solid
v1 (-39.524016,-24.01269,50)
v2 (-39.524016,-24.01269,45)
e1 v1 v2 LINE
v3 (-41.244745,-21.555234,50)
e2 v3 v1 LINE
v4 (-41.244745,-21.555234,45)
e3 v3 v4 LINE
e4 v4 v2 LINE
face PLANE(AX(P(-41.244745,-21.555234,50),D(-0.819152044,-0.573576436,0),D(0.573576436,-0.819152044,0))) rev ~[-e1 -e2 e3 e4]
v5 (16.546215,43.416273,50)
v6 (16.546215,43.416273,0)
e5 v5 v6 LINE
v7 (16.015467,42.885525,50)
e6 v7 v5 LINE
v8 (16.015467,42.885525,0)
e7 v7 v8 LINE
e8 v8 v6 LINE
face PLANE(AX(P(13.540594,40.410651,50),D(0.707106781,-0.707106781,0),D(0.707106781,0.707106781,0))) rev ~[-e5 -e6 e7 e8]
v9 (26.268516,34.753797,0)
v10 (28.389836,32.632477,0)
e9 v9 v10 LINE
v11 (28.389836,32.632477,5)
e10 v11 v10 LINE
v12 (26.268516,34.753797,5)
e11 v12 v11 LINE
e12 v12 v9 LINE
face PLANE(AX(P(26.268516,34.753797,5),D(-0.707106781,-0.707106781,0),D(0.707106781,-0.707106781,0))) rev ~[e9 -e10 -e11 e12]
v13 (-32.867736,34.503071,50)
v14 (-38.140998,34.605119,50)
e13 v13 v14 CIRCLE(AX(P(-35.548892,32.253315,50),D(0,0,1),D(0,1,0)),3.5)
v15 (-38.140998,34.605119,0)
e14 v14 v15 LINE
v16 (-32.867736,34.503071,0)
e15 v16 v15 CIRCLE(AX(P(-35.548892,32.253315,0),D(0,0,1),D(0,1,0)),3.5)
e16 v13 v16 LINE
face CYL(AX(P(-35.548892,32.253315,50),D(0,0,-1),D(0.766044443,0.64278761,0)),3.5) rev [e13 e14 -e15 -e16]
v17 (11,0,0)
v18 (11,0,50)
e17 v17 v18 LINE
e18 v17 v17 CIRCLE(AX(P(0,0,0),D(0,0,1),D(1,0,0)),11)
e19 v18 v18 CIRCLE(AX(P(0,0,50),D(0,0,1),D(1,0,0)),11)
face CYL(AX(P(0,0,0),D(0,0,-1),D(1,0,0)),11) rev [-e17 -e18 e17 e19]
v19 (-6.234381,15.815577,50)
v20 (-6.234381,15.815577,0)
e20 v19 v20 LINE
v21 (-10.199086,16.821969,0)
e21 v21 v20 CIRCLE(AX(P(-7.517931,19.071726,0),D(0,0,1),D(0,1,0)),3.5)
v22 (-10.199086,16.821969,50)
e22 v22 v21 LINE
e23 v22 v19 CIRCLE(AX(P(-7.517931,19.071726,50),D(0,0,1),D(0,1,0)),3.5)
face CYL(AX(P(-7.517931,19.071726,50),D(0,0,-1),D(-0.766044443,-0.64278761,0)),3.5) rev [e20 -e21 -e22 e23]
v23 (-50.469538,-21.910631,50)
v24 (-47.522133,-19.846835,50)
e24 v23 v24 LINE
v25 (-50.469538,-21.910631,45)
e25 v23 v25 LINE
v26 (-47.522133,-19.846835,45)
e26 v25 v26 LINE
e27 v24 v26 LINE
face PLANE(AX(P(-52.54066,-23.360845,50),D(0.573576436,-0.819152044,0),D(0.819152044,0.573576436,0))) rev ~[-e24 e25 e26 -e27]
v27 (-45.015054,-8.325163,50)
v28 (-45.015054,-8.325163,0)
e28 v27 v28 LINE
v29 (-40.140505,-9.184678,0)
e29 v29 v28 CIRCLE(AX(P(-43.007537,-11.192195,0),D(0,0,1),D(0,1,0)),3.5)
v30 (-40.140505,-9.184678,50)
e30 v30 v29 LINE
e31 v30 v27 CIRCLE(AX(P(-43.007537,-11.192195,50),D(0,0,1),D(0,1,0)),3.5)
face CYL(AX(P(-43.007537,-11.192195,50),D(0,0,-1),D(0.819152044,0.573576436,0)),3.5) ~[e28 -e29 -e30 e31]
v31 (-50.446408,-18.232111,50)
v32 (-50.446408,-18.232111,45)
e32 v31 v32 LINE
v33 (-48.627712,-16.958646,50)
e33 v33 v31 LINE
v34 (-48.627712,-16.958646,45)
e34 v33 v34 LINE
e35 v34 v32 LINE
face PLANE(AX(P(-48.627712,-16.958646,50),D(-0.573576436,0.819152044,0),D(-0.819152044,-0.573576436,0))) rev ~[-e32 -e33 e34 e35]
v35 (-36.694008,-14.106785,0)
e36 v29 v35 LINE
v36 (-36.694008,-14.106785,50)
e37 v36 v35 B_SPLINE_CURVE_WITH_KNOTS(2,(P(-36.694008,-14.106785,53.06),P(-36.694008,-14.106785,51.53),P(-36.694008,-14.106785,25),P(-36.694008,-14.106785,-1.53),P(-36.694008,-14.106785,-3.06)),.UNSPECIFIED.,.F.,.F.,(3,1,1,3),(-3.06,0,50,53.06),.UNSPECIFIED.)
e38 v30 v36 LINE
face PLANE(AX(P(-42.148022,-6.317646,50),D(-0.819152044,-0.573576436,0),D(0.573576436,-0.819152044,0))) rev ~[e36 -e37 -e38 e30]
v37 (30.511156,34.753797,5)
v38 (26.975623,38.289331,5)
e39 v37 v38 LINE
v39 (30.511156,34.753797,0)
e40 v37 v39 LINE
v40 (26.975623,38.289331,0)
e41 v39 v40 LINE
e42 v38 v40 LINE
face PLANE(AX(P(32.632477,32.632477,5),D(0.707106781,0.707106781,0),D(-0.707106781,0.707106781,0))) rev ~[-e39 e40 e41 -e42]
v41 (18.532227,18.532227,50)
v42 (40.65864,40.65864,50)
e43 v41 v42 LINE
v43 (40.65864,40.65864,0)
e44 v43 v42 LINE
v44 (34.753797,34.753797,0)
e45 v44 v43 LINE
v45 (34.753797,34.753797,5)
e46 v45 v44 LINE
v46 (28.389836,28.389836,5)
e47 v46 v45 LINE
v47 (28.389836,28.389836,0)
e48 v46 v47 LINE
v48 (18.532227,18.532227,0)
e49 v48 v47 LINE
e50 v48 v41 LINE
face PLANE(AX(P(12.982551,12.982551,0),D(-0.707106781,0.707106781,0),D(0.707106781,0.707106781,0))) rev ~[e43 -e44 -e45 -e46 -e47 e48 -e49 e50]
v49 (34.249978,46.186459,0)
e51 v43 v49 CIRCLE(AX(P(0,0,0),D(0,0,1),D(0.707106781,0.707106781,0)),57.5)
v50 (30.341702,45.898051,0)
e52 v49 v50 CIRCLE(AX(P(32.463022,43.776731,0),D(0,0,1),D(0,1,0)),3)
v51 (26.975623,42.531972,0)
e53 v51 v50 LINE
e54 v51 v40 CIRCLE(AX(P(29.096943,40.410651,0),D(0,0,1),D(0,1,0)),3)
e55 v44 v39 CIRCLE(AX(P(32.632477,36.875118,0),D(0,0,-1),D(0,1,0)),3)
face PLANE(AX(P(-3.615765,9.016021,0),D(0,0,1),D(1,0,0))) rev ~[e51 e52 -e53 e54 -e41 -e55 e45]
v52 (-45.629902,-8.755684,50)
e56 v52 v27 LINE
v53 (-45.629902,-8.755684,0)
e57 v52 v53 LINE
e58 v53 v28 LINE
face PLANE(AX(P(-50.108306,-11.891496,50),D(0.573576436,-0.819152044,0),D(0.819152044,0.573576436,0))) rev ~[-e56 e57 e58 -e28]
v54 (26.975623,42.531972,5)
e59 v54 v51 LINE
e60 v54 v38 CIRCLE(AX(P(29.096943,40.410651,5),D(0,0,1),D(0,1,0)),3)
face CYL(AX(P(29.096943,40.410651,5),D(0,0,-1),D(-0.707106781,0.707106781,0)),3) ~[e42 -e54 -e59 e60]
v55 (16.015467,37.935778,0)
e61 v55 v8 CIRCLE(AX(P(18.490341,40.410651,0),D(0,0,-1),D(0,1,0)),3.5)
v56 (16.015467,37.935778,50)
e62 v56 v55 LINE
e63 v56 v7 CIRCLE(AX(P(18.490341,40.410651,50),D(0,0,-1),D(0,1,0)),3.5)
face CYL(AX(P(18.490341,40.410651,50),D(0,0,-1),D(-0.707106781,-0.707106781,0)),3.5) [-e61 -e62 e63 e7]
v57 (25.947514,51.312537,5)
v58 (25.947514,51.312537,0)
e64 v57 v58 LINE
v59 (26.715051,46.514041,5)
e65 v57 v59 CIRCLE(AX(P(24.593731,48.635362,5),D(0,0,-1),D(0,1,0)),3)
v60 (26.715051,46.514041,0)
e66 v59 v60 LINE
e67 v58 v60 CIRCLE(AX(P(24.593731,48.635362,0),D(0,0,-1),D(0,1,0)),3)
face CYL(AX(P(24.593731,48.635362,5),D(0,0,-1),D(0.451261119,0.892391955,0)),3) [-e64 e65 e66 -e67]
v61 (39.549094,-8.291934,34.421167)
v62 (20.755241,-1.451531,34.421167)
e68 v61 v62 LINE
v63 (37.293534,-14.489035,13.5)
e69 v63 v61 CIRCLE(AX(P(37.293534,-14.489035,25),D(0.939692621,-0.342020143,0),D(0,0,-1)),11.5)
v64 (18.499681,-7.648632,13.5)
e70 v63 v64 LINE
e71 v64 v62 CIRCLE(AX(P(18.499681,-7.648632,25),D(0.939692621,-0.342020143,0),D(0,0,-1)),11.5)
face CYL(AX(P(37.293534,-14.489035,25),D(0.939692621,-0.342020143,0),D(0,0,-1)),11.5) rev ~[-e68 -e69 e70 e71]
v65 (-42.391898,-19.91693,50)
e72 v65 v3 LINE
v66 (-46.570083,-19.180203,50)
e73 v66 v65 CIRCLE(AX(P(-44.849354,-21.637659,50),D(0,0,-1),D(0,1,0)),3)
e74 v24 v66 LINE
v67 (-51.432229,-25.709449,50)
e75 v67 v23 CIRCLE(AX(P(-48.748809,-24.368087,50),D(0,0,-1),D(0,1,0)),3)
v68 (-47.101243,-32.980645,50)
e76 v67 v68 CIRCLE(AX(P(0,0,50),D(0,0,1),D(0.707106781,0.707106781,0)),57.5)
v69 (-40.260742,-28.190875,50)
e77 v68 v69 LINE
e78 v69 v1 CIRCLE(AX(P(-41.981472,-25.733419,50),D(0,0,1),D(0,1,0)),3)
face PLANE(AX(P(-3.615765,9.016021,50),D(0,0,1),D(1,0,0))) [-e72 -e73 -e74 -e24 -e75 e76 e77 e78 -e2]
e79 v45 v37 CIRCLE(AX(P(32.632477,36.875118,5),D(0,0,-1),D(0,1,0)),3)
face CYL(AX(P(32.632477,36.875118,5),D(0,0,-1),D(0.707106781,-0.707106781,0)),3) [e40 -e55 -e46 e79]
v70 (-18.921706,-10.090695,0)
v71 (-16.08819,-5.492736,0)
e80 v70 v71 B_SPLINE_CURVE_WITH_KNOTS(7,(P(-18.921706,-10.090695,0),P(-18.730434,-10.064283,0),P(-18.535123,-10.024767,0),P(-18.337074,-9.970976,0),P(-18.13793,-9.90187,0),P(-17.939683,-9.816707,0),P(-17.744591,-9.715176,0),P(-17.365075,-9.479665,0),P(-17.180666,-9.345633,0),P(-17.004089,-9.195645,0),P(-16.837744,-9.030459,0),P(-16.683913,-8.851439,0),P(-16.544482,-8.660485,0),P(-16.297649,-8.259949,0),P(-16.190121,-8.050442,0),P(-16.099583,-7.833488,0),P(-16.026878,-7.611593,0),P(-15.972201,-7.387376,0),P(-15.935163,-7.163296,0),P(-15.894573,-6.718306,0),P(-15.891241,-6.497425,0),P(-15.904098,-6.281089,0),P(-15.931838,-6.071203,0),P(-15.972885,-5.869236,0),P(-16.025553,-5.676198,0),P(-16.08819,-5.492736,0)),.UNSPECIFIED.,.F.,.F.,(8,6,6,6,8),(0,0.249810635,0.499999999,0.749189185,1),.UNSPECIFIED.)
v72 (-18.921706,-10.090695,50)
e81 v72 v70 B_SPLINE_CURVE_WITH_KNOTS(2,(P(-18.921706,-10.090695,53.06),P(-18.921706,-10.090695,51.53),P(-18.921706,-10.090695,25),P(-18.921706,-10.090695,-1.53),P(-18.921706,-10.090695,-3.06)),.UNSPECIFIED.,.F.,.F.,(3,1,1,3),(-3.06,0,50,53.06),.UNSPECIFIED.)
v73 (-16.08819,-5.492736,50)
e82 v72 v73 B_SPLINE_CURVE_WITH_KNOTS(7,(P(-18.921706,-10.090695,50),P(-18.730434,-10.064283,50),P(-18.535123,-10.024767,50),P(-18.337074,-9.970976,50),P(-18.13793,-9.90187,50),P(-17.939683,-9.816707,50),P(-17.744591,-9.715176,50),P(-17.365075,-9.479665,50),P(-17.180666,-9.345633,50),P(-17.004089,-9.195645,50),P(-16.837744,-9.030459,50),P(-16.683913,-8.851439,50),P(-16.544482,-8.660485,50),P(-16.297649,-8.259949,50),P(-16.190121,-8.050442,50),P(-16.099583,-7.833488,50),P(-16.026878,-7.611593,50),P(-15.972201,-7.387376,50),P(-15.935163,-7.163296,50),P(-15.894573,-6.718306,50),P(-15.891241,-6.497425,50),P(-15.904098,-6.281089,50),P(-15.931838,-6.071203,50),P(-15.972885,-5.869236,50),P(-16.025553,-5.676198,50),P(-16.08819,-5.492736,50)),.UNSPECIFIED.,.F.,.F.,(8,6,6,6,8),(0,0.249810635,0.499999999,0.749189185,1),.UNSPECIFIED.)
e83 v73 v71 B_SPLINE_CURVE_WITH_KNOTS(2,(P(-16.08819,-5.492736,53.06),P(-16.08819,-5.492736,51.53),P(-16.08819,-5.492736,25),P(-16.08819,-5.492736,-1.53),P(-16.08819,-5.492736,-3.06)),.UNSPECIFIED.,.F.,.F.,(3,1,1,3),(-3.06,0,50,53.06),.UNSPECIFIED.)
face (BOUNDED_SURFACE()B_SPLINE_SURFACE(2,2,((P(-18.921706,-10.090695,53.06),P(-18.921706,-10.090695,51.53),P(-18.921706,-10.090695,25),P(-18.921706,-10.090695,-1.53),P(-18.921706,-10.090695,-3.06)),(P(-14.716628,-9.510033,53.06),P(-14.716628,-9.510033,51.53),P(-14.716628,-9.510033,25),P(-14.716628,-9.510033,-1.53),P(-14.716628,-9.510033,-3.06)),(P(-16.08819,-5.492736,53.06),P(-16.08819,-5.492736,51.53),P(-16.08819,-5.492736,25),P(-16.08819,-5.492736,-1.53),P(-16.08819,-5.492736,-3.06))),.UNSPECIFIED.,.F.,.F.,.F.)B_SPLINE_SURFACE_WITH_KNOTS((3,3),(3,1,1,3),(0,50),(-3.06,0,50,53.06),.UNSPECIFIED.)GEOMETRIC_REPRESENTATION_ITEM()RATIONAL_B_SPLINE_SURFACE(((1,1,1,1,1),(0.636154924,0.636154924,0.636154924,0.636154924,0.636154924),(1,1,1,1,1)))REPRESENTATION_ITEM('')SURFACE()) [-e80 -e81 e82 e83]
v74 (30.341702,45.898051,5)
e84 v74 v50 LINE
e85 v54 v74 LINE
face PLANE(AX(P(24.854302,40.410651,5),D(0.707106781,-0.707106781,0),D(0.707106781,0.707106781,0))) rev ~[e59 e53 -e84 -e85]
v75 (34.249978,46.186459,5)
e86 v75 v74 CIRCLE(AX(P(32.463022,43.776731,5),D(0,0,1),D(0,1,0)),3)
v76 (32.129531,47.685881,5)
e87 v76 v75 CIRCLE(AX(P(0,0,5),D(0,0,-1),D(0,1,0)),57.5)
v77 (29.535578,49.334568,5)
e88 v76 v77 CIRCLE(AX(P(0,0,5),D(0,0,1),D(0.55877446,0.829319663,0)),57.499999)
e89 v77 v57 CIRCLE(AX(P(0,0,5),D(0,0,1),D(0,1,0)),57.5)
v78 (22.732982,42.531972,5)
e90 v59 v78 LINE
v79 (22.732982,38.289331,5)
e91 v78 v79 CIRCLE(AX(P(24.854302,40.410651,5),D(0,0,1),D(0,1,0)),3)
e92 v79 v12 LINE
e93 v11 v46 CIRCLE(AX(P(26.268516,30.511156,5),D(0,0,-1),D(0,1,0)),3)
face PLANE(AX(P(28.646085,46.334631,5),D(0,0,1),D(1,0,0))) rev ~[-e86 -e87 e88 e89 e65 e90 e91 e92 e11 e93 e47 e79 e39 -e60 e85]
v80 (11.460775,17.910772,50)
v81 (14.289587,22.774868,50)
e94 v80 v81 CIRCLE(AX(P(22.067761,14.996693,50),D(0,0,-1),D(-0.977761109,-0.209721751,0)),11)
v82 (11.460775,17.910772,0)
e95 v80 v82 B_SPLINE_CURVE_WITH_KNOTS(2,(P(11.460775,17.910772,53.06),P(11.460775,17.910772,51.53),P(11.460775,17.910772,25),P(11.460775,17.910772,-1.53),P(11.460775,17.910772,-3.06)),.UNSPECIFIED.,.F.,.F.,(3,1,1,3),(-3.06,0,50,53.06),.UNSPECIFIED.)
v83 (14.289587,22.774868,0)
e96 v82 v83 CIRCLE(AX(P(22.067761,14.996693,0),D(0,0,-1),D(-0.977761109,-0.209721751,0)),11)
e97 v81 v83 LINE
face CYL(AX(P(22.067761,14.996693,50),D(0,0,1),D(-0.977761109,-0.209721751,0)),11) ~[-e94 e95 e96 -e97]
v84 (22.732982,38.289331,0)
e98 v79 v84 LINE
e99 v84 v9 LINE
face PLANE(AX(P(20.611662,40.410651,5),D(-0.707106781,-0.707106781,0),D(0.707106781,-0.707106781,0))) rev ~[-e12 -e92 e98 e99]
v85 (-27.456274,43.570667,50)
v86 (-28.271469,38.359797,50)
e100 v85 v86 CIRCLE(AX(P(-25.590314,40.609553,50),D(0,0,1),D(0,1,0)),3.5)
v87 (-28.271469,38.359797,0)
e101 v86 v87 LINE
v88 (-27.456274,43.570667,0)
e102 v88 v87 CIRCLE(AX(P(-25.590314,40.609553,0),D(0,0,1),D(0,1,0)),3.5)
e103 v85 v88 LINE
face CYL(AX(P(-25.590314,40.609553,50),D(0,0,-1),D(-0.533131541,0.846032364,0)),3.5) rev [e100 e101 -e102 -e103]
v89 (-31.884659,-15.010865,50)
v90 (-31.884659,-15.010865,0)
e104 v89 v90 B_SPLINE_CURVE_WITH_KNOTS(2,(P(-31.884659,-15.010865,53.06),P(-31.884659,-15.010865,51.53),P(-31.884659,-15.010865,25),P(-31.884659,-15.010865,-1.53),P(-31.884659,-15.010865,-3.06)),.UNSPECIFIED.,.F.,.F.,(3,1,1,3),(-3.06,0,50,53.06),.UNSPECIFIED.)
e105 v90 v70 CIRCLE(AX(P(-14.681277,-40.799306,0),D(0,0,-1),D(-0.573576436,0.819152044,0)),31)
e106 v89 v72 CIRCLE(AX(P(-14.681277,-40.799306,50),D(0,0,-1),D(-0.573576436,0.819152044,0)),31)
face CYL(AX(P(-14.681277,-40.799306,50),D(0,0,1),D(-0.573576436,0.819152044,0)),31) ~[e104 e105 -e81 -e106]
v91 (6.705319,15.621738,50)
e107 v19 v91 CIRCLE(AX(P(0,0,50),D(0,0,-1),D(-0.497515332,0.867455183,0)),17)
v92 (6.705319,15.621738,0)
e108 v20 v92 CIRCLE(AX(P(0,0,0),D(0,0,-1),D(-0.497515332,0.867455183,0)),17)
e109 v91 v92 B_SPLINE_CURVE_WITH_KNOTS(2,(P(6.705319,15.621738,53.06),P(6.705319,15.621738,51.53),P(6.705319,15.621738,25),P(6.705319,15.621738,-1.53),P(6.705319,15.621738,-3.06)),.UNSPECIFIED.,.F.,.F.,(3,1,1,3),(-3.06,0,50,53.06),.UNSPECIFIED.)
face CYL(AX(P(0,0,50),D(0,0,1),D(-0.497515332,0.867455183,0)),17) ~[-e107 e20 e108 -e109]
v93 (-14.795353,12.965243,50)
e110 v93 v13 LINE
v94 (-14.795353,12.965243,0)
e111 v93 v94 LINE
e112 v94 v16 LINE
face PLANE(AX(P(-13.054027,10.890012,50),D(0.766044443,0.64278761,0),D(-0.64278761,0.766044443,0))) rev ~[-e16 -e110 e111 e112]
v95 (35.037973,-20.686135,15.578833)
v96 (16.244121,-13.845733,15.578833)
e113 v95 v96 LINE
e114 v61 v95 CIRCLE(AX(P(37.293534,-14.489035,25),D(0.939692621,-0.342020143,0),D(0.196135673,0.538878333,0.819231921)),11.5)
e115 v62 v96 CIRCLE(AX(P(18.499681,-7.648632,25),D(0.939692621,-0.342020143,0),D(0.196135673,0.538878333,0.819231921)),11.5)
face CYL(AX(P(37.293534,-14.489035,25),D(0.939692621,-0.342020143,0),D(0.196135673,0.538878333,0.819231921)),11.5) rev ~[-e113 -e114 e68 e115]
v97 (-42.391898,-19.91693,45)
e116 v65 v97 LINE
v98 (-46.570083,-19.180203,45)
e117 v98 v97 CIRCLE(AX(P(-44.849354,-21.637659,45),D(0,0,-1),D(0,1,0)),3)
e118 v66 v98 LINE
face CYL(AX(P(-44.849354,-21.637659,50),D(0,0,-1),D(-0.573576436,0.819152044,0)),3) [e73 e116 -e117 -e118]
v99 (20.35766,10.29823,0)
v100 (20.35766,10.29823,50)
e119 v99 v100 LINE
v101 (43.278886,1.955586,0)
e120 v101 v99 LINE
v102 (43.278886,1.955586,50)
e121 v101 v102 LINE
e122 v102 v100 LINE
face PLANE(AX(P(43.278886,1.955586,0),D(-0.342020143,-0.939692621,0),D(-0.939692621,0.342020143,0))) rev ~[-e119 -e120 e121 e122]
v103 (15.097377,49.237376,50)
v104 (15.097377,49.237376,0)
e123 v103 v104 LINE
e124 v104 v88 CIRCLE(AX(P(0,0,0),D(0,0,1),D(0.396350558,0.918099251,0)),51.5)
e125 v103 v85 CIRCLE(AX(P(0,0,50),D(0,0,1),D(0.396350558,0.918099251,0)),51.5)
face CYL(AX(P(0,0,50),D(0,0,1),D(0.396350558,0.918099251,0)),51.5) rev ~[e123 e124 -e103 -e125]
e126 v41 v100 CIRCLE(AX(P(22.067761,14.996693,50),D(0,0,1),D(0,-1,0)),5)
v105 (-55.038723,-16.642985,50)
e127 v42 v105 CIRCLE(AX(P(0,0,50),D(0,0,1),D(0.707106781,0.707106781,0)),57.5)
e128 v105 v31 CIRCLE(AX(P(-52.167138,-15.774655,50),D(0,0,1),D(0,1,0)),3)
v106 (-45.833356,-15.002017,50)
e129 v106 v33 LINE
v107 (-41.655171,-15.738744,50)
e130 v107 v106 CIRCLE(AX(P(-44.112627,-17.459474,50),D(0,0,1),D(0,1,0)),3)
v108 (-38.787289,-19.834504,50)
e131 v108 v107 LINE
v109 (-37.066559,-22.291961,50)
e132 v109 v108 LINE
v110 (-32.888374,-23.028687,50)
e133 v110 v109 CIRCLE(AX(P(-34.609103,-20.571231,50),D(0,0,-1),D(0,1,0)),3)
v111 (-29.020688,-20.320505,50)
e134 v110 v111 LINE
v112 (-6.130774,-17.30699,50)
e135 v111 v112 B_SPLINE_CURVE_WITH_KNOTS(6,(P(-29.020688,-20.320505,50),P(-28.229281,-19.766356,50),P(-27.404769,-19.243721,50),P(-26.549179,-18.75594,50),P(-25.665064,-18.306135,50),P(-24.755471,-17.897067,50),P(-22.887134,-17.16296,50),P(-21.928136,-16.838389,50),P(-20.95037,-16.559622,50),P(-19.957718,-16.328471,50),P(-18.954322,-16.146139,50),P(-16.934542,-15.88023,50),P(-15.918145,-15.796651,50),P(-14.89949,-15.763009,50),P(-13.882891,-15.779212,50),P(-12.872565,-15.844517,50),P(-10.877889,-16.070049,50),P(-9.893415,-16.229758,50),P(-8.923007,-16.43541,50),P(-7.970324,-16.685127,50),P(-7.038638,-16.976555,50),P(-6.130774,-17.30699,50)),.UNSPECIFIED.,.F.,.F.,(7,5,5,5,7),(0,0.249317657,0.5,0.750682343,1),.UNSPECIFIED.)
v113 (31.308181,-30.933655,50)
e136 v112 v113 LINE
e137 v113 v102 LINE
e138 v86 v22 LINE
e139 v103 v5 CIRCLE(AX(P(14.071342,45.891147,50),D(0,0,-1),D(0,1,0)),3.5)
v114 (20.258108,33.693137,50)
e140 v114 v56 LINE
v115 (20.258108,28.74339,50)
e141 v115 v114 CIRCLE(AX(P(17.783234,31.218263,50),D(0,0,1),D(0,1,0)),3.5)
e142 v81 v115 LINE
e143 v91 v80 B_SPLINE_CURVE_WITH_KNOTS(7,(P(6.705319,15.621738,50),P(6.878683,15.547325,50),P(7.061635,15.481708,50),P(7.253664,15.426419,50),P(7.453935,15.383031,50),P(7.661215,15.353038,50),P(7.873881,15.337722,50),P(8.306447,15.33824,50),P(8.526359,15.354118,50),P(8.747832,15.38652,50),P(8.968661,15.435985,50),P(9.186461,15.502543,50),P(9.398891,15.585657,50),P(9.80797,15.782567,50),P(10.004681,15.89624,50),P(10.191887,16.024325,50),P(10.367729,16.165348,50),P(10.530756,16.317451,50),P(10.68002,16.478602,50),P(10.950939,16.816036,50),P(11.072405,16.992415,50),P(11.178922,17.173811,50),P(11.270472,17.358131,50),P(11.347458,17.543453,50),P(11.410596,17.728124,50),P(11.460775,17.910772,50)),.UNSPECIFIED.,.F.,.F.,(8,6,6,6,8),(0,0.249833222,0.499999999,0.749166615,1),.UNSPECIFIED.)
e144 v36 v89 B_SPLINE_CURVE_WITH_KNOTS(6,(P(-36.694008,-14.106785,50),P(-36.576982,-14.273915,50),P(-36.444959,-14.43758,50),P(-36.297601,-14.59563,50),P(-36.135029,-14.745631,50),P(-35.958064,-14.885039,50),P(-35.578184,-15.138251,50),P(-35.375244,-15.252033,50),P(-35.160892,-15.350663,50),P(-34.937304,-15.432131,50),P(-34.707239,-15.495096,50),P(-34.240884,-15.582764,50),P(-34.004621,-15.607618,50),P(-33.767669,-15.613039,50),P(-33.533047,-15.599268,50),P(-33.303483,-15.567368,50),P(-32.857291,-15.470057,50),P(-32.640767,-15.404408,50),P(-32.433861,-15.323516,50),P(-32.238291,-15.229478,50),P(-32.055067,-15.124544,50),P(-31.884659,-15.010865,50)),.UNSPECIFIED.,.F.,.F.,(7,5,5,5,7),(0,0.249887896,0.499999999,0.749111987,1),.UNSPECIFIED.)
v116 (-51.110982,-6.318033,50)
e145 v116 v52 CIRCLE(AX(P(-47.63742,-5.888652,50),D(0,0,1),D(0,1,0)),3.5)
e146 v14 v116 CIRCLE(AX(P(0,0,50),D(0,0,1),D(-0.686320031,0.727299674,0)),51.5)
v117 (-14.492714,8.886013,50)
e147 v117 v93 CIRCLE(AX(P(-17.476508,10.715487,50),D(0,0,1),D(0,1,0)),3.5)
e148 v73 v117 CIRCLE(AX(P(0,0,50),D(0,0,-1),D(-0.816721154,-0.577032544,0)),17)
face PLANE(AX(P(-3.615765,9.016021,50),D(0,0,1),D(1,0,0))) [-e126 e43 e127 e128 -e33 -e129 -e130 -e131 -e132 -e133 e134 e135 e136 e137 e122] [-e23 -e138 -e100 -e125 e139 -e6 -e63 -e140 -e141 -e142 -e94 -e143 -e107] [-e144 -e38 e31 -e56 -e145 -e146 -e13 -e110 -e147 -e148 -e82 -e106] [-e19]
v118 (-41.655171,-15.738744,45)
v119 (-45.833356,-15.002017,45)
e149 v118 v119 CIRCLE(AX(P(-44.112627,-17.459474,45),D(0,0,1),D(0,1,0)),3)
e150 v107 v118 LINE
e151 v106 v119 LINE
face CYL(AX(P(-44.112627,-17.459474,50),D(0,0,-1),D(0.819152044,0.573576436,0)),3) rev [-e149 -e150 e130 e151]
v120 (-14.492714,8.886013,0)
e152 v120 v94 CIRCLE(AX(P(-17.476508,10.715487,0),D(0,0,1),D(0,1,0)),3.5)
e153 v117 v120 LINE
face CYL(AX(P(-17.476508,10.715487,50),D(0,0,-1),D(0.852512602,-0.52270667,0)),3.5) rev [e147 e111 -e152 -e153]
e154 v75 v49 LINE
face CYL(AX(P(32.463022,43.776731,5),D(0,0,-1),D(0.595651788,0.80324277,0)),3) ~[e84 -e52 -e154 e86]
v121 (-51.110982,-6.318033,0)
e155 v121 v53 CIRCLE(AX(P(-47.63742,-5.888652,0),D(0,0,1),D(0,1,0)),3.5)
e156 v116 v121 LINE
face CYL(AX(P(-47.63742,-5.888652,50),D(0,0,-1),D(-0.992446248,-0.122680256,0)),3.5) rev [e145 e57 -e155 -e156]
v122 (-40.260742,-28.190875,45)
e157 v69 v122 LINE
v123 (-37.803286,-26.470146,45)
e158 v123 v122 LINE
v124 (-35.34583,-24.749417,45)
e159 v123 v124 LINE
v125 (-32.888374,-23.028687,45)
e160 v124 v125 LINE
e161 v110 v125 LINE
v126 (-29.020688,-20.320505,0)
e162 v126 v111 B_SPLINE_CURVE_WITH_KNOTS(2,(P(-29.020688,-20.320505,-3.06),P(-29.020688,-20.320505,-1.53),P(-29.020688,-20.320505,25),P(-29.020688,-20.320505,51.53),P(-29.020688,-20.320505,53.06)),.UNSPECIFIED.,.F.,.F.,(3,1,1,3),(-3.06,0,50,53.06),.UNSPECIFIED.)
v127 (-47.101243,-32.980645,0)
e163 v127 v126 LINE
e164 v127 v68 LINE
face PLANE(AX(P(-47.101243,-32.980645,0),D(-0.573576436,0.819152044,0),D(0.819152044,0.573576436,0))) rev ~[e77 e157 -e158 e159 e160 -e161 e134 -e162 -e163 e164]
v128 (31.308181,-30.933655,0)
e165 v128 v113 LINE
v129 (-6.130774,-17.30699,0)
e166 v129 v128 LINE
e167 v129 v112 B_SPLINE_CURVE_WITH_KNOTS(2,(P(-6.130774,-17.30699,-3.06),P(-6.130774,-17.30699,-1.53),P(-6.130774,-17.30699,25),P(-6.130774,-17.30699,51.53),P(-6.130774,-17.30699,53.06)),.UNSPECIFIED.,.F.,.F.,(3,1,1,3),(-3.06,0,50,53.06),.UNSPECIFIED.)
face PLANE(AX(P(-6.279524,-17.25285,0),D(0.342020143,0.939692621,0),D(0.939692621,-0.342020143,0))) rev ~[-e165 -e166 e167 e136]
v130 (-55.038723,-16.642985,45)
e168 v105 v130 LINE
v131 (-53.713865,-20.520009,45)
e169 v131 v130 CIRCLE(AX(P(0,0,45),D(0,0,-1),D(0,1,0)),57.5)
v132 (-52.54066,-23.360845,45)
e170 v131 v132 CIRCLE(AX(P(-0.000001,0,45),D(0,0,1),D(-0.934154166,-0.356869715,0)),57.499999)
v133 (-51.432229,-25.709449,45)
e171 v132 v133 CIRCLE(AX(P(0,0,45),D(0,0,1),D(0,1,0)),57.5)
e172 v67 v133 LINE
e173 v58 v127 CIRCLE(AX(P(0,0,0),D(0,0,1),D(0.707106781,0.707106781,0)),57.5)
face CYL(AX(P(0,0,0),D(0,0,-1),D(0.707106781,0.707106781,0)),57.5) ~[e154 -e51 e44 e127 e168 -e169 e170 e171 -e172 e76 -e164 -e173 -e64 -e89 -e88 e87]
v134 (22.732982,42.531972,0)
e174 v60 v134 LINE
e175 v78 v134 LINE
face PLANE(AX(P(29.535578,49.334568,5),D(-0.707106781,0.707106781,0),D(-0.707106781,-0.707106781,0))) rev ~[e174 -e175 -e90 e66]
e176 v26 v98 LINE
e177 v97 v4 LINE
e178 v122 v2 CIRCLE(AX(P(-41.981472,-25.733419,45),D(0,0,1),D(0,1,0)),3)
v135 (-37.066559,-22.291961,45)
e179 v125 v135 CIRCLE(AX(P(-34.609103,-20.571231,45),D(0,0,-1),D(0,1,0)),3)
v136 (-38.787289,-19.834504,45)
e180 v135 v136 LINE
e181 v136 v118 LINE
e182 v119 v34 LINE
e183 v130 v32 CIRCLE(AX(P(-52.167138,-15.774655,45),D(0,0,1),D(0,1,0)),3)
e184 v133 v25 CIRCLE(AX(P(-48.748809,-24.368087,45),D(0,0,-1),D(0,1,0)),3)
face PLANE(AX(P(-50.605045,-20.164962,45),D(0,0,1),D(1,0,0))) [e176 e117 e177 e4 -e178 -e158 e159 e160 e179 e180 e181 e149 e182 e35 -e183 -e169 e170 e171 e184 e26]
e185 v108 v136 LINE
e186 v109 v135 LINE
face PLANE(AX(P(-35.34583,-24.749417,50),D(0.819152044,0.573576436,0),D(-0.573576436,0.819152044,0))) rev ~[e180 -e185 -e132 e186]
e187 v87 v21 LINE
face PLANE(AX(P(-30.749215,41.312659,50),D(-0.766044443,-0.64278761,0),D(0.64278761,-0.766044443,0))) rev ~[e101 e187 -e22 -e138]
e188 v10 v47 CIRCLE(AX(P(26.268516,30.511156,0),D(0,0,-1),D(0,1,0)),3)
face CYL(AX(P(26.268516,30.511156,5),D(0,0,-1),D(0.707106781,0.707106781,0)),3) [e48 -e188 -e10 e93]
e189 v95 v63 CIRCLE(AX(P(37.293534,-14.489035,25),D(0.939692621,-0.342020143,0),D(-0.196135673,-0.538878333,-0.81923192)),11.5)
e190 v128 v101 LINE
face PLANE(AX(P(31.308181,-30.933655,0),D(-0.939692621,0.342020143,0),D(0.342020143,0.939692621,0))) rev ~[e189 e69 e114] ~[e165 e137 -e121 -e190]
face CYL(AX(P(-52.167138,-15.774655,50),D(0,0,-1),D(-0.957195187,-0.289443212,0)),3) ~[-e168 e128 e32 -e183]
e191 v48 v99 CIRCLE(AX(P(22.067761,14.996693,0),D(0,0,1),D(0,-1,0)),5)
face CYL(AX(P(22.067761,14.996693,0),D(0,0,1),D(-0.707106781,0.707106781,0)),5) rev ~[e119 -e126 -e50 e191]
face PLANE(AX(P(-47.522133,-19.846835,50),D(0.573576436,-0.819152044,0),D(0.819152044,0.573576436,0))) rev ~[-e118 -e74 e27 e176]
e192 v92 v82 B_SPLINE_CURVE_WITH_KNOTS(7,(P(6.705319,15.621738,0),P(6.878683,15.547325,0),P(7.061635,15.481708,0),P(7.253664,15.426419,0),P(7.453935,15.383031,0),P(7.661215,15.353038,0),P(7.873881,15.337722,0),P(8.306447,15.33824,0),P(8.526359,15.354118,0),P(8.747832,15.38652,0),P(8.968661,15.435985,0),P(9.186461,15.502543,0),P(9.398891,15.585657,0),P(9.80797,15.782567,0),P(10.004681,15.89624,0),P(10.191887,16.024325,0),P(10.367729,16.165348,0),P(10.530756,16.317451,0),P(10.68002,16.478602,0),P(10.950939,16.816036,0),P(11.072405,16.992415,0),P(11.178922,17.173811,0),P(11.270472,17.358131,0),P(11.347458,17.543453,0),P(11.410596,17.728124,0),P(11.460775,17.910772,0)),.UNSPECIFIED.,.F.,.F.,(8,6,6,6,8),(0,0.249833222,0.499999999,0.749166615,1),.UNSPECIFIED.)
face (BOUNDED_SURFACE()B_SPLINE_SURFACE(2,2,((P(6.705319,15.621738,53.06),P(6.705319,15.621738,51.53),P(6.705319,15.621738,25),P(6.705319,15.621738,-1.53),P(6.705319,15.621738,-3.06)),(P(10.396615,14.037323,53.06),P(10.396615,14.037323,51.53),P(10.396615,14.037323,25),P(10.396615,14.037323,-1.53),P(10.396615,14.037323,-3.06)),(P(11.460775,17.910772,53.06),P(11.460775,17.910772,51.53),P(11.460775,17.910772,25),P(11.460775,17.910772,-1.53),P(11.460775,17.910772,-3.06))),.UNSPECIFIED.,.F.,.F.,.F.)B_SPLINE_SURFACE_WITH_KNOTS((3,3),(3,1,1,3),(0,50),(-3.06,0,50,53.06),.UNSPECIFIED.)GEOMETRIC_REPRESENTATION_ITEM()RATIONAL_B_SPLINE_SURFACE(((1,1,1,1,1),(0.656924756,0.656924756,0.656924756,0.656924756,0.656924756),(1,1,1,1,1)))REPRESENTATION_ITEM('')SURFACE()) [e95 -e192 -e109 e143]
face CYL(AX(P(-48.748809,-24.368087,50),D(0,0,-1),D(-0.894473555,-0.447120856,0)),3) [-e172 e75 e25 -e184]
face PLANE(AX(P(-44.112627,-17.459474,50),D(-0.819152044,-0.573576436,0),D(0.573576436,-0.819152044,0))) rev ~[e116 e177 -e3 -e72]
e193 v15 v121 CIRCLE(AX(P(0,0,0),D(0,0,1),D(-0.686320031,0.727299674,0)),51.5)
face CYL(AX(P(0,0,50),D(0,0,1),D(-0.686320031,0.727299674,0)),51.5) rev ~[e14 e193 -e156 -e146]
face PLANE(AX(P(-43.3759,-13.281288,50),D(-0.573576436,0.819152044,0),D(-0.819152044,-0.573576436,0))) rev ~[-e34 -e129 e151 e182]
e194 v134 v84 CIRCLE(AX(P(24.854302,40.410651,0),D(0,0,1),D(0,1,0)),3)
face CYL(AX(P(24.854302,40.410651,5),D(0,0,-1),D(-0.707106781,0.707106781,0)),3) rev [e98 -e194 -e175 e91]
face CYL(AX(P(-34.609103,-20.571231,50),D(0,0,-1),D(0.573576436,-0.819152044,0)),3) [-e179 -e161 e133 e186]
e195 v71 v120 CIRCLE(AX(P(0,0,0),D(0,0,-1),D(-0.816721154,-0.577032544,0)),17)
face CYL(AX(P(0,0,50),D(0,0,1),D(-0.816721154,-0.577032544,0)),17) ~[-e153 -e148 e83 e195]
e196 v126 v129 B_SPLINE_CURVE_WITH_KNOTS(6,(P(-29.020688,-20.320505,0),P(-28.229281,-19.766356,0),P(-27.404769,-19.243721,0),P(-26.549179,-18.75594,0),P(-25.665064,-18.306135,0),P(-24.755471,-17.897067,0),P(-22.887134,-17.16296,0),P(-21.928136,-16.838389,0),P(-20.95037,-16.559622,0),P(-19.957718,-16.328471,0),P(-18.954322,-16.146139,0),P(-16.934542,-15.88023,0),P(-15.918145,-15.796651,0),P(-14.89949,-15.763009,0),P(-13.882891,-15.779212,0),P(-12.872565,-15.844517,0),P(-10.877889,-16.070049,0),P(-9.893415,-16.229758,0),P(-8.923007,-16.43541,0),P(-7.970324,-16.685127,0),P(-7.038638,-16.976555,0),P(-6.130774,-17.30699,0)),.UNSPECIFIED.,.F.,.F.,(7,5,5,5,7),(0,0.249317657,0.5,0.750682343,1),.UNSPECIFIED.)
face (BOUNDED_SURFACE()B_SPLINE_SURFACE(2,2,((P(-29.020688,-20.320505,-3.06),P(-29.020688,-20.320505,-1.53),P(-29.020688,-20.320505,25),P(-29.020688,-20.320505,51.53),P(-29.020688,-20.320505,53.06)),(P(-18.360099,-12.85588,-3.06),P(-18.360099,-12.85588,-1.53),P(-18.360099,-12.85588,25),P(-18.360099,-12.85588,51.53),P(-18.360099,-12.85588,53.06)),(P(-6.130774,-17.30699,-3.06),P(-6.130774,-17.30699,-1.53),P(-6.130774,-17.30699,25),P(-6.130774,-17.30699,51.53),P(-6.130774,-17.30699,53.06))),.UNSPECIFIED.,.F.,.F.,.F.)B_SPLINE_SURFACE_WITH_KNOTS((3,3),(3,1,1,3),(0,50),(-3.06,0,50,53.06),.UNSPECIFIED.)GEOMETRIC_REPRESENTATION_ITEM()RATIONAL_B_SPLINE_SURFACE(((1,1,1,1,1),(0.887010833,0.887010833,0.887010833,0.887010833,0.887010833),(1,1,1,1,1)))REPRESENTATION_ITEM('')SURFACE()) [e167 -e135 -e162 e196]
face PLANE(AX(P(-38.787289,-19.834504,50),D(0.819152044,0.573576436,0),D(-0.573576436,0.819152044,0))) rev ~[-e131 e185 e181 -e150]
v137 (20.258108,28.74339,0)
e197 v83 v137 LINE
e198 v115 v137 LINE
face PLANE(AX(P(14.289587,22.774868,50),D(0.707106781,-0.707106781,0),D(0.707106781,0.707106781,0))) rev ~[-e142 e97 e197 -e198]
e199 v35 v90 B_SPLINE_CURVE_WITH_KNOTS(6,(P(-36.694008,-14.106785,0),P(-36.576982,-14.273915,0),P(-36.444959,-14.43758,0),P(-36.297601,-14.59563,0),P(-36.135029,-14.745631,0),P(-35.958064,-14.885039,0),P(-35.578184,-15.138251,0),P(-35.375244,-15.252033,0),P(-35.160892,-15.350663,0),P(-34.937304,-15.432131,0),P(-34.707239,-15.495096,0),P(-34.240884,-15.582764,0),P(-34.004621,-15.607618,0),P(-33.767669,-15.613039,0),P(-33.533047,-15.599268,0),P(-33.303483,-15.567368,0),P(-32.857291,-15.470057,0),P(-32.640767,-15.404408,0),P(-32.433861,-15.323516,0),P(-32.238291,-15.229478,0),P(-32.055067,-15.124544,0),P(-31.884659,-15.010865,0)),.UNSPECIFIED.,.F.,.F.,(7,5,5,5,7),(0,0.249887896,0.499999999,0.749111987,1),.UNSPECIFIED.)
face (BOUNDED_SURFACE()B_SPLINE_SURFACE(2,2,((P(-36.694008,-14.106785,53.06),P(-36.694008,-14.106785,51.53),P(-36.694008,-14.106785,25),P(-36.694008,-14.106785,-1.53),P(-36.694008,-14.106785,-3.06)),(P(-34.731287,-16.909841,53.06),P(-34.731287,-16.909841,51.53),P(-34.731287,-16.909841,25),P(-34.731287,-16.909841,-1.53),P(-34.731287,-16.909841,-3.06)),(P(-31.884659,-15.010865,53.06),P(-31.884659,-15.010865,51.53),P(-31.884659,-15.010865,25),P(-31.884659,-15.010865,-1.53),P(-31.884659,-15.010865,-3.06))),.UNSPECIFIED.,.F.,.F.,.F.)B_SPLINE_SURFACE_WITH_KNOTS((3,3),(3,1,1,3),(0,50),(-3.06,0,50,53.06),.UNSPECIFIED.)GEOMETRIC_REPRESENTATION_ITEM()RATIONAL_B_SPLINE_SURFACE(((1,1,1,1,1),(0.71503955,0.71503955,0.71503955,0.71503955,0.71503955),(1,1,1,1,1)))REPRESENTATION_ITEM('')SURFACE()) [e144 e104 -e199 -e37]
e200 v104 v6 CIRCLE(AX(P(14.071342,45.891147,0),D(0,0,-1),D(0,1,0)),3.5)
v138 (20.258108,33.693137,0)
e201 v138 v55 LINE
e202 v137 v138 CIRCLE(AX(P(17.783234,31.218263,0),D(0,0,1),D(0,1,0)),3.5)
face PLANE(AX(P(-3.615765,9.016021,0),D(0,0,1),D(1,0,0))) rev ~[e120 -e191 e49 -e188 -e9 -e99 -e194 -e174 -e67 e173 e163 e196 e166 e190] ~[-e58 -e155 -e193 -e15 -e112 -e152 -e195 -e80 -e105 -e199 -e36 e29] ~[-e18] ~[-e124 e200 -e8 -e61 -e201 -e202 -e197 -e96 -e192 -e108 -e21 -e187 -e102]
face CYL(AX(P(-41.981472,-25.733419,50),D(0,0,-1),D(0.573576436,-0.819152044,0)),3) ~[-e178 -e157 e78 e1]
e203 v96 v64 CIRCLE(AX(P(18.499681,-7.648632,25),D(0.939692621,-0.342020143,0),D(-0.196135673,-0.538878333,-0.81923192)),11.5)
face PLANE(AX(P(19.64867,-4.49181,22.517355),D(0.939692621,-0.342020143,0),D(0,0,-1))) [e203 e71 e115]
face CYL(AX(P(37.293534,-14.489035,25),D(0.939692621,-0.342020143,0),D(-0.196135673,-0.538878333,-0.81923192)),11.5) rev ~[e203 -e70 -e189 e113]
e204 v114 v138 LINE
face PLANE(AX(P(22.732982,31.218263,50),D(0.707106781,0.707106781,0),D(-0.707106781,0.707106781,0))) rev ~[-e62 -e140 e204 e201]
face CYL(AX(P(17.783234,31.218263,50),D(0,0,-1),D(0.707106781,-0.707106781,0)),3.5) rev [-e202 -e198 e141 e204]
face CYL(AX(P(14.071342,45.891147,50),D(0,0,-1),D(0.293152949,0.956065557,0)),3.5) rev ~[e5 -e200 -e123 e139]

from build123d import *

# Parameters (mm, degrees)
SKETCH1_R           = 11
BOSS_EXTRUDE1_DEPTH = 50
FILLET2_R           = 25
FILLET5_R           = 5
CUT_EXTRUDE2_DEPTH  = 50
FILLET6_R           = 3.5
CUT_EXTRUDE3_DEPTH  = 5
CUT_EXTRUDE4_START  = -45
CUT_EXTRUDE4_DEPTH  = 5
CUT_EXTRUDE1_DEPTH  = 20
FILLET8_R           = 3


with BuildPart() as part:
    # Sketch1 → Boss-Extrude1 (new body)
    with BuildSketch(Plane.XY):
        with BuildLine():
            Line((-47.101242547, -32.98064509), (-15.03971276, -10.530920247))
            ThreePointArc((-15.03971276, -10.530920247), (-11.176920202, -14.566045997), (-6.279523746, -17.252849698))
            Line((-6.279523746, -17.252849698), (31.308181085, -30.933655431))
            Line((31.308181085, -30.933655431), (43.278886102, 1.955586297))
            Line((43.278886102, 1.955586297), (12.982550619, 12.982550619))
            Line((12.982550619, 12.982550619), (40.658639918, 40.658639918))
            ThreePointArc((40.658639918, 40.658639918), (-36.960287557, 44.047555479), (-47.101242547, -32.98064509))
        make_face()
        Circle(SKETCH1_R, mode=Mode.SUBTRACT)
    extrude(amount=BOSS_EXTRUDE1_DEPTH)

    # Fillet2
    fillet2_edges = [part.edges().sort_by_distance(p)[0] for p in [
        (-15.03971276, -10.530920247, 25),
    ]]
    fillet(fillet2_edges, radius=FILLET2_R)

    # Fillet5
    fillet5_edges = [part.edges().sort_by_distance(p)[0] for p in [
        (12.982550619, 12.982550619, 25),
    ]]
    fillet(fillet5_edges, radius=FILLET5_R)

    # Sketch4 → Cut-Extrude2 (cut)
    with BuildSketch(Plane.XY.offset(50)):
        with BuildLine():
            Line((-42.148022243, -6.317645709), (-34.691528571, -16.966622285))
            Line((-34.691528571, -16.966622285), (-32.46214687, -15.405592412))
            ThreePointArc((-32.46214687, -15.405592412), (-23.62229066, -11.116679876), (-13.884259621, -9.809553241))
            ThreePointArc((-13.884259621, -9.809553241), (-16.986342471, 0.681299827), (-13.054027301, 10.890012453))
            Line((-13.054027301, 10.890012453), (-35.345481592, 37.455933189))
            ThreePointArc((-35.345481592, 37.455933189), (-49.339432978, 14.76043202), (-50.108305856, -11.891496301))
            Line((-50.108305856, -11.891496301), (-42.148022243, -6.317645709))
        make_face()
        with BuildLine():
            ThreePointArc((20.41205375, 47.282111435), (-5.968485267, 51.152978248), (-30.749214933, 41.312658847))
            Line((-30.749214933, 41.312658847), (-8.457760642, 14.746738111))
            ThreePointArc((-8.457760642, 14.746738111), (1.75926732, 16.908724922), (11.312388901, 12.68975403))
            ThreePointArc((11.312388901, 12.68975403), (11.517857333, 18.111100205), (14.289586512, 22.774867886))
            Line((14.289586512, 22.774867886), (22.732981885, 31.218263259))
            Line((22.732981885, 31.218263259), (13.54059373, 40.410651415))
            Line((13.54059373, 40.410651415), (20.41205375, 47.282111435))
        make_face()
    extrude(amount=-CUT_EXTRUDE2_DEPTH, mode=Mode.SUBTRACT)

    # Fillet6
    fillet6_edges = [part.edges().sort_by_distance(p)[0] for p in [
        (-13.884259621, -9.809553241, 25),
        (-13.054027301, 10.890012453, 25),
        (-35.345481592, 37.455933189, 25),
        (-30.749214933, 41.312658847, 25),
        (-8.457760642, 14.746738111, 25),
        (11.312388901, 12.68975403, 25),
        (-50.108305856, -11.891496301, 25),
        (-34.691528571, -16.966622285, 25),
        (-42.148022243, -6.317645709, 25),
        (22.732981885, 31.218263259, 25),
        (13.54059373, 40.410651415, 25),
        (20.41205375, 47.282111435, 25),
    ]]
    fillet(fillet6_edges, radius=FILLET6_R)

    # Sketch4<3> → Cut-Extrude3 (cut)
    with BuildSketch(Plane.XY.offset(50)):
        with BuildLine():
            Line((-52.540659522, -23.360845383), (-47.522133036, -19.846835307))
            ThreePointArc((-47.522133036, -19.846835307), (-48.096606551, -18.411041206), (-48.627711525, -16.958645933))
            Line((-48.627711525, -16.958645933), (-53.713864559, -20.520008628))
            ThreePointArc((-53.713864559, -20.520008628), (-53.146246907, -21.948267351), (-52.540659522, -23.360845383))
        make_face()
        with BuildLine():
            Line((-44.112627107, -17.459473554), (-41.244744925, -21.555233775))
            Line((-41.244744925, -21.555233775), (-38.787288792, -19.834504466))
            Line((-38.787288792, -19.834504466), (-43.375900283, -13.281288112))
            Line((-43.375900283, -13.281288112), (-48.627711525, -16.958645933))
            ThreePointArc((-48.627711525, -16.958645933), (-48.096606551, -18.411041206), (-47.522133036, -19.846835307))
            Line((-47.522133036, -19.846835307), (-44.112627107, -17.459473554))
        make_face()
        Polygon((-38.787288792, -19.834504466), (-41.244744925, -21.555233775), (-37.803286307, -26.470146041), (-35.345830174, -24.749416732), align=None)
    extrude(amount=-CUT_EXTRUDE3_DEPTH, mode=Mode.SUBTRACT)

    # Sketch4<4> → Cut-Extrude4 (cut)
    with BuildSketch(Plane.XY.offset(50).offset(CUT_EXTRUDE4_START)):
        with BuildLine():
            ThreePointArc((32.12953143, 47.685880616), (30.843572778, 48.527559369), (29.535578285, 49.334568158))
            Line((29.535578285, 49.334568158), (25.145119486, 44.944109359))
            ThreePointArc((25.145119486, 44.944109359), (26.4832242, 44.168867271), (27.797449084, 43.35379827))
            Line((27.797449084, 43.35379827), (32.12953143, 47.685880616))
        make_face()
        with BuildLine():
            ThreePointArc((27.797449084, 43.35379827), (26.4832242, 44.168867271), (25.145119486, 44.944109359))
            Line((25.145119486, 44.944109359), (20.611661542, 40.410651415))
            Line((20.611661542, 40.410651415), (26.268515791, 34.753797165))
            Line((26.268515791, 34.753797165), (28.389836135, 36.875117509))
            Line((28.389836135, 36.875117509), (24.854302229, 40.410651415))
            Line((24.854302229, 40.410651415), (27.797449084, 43.35379827))
        make_face()
        Polygon((28.389836135, 36.875117509), (26.268515791, 34.753797165), (30.511156478, 30.511156478), (32.632476822, 32.632476822), align=None)
    extrude(amount=-CUT_EXTRUDE4_DEPTH, mode=Mode.SUBTRACT)

    # Sketch2 → Cut-Extrude1 (cut)
    with BuildSketch(Plane(origin=(37.587704831, -13.680805733, 0), x_dir=(0, 0, -1), z_dir=(0.939692620785907, -0.34202014332567265, 0))):
        with BuildLine():
            ThreePointArc((-13.5, -0.86009916), (-21.542647074, 10.107886559), (-34.421167086, 5.7347178))
            Line((-34.421167086, 5.7347178), (-15.578832914, -7.45491612))
            ThreePointArc((-15.578832914, -7.45491612), (-14.03201428, -4.317452086), (-13.5, -0.86009916))
        make_face()
        with BuildLine():
            Line((-15.578832914, -7.45491612), (-34.421167086, 5.7347178))
            ThreePointArc((-34.421167086, 5.7347178), (-31.59481696, -10.281266246), (-15.578832914, -7.45491612))
        make_face()
    extrude(amount=-CUT_EXTRUDE1_DEPTH, mode=Mode.SUBTRACT)

    # Fillet8
    fillet8_edges = [part.edges().sort_by_distance(p)[0] for p in [
        (-44.112627107, -17.459473554, 47.5),
        (-52.540659522, -23.360845383, 47.5),
        (-53.713864559, -20.520008628, 47.5),
        (-43.375900283, -13.281288112, 47.5),
        (-35.345830174, -24.749416732, 47.5),
        (-37.803286307, -26.470146041, 47.5),
        (30.511156478, 30.511156478, 2.5),
        (32.632476822, 32.632476822, 2.5),
        (24.854302229, 40.410651415, 2.5),
        (32.12953143, 47.685880616, 2.5),
        (29.535578285, 49.334568158, 2.5),
        (20.611661542, 40.410651415, 2.5),
    ]]
    fillet(fillet8_edges, radius=FILLET8_R)


solid = part.part
